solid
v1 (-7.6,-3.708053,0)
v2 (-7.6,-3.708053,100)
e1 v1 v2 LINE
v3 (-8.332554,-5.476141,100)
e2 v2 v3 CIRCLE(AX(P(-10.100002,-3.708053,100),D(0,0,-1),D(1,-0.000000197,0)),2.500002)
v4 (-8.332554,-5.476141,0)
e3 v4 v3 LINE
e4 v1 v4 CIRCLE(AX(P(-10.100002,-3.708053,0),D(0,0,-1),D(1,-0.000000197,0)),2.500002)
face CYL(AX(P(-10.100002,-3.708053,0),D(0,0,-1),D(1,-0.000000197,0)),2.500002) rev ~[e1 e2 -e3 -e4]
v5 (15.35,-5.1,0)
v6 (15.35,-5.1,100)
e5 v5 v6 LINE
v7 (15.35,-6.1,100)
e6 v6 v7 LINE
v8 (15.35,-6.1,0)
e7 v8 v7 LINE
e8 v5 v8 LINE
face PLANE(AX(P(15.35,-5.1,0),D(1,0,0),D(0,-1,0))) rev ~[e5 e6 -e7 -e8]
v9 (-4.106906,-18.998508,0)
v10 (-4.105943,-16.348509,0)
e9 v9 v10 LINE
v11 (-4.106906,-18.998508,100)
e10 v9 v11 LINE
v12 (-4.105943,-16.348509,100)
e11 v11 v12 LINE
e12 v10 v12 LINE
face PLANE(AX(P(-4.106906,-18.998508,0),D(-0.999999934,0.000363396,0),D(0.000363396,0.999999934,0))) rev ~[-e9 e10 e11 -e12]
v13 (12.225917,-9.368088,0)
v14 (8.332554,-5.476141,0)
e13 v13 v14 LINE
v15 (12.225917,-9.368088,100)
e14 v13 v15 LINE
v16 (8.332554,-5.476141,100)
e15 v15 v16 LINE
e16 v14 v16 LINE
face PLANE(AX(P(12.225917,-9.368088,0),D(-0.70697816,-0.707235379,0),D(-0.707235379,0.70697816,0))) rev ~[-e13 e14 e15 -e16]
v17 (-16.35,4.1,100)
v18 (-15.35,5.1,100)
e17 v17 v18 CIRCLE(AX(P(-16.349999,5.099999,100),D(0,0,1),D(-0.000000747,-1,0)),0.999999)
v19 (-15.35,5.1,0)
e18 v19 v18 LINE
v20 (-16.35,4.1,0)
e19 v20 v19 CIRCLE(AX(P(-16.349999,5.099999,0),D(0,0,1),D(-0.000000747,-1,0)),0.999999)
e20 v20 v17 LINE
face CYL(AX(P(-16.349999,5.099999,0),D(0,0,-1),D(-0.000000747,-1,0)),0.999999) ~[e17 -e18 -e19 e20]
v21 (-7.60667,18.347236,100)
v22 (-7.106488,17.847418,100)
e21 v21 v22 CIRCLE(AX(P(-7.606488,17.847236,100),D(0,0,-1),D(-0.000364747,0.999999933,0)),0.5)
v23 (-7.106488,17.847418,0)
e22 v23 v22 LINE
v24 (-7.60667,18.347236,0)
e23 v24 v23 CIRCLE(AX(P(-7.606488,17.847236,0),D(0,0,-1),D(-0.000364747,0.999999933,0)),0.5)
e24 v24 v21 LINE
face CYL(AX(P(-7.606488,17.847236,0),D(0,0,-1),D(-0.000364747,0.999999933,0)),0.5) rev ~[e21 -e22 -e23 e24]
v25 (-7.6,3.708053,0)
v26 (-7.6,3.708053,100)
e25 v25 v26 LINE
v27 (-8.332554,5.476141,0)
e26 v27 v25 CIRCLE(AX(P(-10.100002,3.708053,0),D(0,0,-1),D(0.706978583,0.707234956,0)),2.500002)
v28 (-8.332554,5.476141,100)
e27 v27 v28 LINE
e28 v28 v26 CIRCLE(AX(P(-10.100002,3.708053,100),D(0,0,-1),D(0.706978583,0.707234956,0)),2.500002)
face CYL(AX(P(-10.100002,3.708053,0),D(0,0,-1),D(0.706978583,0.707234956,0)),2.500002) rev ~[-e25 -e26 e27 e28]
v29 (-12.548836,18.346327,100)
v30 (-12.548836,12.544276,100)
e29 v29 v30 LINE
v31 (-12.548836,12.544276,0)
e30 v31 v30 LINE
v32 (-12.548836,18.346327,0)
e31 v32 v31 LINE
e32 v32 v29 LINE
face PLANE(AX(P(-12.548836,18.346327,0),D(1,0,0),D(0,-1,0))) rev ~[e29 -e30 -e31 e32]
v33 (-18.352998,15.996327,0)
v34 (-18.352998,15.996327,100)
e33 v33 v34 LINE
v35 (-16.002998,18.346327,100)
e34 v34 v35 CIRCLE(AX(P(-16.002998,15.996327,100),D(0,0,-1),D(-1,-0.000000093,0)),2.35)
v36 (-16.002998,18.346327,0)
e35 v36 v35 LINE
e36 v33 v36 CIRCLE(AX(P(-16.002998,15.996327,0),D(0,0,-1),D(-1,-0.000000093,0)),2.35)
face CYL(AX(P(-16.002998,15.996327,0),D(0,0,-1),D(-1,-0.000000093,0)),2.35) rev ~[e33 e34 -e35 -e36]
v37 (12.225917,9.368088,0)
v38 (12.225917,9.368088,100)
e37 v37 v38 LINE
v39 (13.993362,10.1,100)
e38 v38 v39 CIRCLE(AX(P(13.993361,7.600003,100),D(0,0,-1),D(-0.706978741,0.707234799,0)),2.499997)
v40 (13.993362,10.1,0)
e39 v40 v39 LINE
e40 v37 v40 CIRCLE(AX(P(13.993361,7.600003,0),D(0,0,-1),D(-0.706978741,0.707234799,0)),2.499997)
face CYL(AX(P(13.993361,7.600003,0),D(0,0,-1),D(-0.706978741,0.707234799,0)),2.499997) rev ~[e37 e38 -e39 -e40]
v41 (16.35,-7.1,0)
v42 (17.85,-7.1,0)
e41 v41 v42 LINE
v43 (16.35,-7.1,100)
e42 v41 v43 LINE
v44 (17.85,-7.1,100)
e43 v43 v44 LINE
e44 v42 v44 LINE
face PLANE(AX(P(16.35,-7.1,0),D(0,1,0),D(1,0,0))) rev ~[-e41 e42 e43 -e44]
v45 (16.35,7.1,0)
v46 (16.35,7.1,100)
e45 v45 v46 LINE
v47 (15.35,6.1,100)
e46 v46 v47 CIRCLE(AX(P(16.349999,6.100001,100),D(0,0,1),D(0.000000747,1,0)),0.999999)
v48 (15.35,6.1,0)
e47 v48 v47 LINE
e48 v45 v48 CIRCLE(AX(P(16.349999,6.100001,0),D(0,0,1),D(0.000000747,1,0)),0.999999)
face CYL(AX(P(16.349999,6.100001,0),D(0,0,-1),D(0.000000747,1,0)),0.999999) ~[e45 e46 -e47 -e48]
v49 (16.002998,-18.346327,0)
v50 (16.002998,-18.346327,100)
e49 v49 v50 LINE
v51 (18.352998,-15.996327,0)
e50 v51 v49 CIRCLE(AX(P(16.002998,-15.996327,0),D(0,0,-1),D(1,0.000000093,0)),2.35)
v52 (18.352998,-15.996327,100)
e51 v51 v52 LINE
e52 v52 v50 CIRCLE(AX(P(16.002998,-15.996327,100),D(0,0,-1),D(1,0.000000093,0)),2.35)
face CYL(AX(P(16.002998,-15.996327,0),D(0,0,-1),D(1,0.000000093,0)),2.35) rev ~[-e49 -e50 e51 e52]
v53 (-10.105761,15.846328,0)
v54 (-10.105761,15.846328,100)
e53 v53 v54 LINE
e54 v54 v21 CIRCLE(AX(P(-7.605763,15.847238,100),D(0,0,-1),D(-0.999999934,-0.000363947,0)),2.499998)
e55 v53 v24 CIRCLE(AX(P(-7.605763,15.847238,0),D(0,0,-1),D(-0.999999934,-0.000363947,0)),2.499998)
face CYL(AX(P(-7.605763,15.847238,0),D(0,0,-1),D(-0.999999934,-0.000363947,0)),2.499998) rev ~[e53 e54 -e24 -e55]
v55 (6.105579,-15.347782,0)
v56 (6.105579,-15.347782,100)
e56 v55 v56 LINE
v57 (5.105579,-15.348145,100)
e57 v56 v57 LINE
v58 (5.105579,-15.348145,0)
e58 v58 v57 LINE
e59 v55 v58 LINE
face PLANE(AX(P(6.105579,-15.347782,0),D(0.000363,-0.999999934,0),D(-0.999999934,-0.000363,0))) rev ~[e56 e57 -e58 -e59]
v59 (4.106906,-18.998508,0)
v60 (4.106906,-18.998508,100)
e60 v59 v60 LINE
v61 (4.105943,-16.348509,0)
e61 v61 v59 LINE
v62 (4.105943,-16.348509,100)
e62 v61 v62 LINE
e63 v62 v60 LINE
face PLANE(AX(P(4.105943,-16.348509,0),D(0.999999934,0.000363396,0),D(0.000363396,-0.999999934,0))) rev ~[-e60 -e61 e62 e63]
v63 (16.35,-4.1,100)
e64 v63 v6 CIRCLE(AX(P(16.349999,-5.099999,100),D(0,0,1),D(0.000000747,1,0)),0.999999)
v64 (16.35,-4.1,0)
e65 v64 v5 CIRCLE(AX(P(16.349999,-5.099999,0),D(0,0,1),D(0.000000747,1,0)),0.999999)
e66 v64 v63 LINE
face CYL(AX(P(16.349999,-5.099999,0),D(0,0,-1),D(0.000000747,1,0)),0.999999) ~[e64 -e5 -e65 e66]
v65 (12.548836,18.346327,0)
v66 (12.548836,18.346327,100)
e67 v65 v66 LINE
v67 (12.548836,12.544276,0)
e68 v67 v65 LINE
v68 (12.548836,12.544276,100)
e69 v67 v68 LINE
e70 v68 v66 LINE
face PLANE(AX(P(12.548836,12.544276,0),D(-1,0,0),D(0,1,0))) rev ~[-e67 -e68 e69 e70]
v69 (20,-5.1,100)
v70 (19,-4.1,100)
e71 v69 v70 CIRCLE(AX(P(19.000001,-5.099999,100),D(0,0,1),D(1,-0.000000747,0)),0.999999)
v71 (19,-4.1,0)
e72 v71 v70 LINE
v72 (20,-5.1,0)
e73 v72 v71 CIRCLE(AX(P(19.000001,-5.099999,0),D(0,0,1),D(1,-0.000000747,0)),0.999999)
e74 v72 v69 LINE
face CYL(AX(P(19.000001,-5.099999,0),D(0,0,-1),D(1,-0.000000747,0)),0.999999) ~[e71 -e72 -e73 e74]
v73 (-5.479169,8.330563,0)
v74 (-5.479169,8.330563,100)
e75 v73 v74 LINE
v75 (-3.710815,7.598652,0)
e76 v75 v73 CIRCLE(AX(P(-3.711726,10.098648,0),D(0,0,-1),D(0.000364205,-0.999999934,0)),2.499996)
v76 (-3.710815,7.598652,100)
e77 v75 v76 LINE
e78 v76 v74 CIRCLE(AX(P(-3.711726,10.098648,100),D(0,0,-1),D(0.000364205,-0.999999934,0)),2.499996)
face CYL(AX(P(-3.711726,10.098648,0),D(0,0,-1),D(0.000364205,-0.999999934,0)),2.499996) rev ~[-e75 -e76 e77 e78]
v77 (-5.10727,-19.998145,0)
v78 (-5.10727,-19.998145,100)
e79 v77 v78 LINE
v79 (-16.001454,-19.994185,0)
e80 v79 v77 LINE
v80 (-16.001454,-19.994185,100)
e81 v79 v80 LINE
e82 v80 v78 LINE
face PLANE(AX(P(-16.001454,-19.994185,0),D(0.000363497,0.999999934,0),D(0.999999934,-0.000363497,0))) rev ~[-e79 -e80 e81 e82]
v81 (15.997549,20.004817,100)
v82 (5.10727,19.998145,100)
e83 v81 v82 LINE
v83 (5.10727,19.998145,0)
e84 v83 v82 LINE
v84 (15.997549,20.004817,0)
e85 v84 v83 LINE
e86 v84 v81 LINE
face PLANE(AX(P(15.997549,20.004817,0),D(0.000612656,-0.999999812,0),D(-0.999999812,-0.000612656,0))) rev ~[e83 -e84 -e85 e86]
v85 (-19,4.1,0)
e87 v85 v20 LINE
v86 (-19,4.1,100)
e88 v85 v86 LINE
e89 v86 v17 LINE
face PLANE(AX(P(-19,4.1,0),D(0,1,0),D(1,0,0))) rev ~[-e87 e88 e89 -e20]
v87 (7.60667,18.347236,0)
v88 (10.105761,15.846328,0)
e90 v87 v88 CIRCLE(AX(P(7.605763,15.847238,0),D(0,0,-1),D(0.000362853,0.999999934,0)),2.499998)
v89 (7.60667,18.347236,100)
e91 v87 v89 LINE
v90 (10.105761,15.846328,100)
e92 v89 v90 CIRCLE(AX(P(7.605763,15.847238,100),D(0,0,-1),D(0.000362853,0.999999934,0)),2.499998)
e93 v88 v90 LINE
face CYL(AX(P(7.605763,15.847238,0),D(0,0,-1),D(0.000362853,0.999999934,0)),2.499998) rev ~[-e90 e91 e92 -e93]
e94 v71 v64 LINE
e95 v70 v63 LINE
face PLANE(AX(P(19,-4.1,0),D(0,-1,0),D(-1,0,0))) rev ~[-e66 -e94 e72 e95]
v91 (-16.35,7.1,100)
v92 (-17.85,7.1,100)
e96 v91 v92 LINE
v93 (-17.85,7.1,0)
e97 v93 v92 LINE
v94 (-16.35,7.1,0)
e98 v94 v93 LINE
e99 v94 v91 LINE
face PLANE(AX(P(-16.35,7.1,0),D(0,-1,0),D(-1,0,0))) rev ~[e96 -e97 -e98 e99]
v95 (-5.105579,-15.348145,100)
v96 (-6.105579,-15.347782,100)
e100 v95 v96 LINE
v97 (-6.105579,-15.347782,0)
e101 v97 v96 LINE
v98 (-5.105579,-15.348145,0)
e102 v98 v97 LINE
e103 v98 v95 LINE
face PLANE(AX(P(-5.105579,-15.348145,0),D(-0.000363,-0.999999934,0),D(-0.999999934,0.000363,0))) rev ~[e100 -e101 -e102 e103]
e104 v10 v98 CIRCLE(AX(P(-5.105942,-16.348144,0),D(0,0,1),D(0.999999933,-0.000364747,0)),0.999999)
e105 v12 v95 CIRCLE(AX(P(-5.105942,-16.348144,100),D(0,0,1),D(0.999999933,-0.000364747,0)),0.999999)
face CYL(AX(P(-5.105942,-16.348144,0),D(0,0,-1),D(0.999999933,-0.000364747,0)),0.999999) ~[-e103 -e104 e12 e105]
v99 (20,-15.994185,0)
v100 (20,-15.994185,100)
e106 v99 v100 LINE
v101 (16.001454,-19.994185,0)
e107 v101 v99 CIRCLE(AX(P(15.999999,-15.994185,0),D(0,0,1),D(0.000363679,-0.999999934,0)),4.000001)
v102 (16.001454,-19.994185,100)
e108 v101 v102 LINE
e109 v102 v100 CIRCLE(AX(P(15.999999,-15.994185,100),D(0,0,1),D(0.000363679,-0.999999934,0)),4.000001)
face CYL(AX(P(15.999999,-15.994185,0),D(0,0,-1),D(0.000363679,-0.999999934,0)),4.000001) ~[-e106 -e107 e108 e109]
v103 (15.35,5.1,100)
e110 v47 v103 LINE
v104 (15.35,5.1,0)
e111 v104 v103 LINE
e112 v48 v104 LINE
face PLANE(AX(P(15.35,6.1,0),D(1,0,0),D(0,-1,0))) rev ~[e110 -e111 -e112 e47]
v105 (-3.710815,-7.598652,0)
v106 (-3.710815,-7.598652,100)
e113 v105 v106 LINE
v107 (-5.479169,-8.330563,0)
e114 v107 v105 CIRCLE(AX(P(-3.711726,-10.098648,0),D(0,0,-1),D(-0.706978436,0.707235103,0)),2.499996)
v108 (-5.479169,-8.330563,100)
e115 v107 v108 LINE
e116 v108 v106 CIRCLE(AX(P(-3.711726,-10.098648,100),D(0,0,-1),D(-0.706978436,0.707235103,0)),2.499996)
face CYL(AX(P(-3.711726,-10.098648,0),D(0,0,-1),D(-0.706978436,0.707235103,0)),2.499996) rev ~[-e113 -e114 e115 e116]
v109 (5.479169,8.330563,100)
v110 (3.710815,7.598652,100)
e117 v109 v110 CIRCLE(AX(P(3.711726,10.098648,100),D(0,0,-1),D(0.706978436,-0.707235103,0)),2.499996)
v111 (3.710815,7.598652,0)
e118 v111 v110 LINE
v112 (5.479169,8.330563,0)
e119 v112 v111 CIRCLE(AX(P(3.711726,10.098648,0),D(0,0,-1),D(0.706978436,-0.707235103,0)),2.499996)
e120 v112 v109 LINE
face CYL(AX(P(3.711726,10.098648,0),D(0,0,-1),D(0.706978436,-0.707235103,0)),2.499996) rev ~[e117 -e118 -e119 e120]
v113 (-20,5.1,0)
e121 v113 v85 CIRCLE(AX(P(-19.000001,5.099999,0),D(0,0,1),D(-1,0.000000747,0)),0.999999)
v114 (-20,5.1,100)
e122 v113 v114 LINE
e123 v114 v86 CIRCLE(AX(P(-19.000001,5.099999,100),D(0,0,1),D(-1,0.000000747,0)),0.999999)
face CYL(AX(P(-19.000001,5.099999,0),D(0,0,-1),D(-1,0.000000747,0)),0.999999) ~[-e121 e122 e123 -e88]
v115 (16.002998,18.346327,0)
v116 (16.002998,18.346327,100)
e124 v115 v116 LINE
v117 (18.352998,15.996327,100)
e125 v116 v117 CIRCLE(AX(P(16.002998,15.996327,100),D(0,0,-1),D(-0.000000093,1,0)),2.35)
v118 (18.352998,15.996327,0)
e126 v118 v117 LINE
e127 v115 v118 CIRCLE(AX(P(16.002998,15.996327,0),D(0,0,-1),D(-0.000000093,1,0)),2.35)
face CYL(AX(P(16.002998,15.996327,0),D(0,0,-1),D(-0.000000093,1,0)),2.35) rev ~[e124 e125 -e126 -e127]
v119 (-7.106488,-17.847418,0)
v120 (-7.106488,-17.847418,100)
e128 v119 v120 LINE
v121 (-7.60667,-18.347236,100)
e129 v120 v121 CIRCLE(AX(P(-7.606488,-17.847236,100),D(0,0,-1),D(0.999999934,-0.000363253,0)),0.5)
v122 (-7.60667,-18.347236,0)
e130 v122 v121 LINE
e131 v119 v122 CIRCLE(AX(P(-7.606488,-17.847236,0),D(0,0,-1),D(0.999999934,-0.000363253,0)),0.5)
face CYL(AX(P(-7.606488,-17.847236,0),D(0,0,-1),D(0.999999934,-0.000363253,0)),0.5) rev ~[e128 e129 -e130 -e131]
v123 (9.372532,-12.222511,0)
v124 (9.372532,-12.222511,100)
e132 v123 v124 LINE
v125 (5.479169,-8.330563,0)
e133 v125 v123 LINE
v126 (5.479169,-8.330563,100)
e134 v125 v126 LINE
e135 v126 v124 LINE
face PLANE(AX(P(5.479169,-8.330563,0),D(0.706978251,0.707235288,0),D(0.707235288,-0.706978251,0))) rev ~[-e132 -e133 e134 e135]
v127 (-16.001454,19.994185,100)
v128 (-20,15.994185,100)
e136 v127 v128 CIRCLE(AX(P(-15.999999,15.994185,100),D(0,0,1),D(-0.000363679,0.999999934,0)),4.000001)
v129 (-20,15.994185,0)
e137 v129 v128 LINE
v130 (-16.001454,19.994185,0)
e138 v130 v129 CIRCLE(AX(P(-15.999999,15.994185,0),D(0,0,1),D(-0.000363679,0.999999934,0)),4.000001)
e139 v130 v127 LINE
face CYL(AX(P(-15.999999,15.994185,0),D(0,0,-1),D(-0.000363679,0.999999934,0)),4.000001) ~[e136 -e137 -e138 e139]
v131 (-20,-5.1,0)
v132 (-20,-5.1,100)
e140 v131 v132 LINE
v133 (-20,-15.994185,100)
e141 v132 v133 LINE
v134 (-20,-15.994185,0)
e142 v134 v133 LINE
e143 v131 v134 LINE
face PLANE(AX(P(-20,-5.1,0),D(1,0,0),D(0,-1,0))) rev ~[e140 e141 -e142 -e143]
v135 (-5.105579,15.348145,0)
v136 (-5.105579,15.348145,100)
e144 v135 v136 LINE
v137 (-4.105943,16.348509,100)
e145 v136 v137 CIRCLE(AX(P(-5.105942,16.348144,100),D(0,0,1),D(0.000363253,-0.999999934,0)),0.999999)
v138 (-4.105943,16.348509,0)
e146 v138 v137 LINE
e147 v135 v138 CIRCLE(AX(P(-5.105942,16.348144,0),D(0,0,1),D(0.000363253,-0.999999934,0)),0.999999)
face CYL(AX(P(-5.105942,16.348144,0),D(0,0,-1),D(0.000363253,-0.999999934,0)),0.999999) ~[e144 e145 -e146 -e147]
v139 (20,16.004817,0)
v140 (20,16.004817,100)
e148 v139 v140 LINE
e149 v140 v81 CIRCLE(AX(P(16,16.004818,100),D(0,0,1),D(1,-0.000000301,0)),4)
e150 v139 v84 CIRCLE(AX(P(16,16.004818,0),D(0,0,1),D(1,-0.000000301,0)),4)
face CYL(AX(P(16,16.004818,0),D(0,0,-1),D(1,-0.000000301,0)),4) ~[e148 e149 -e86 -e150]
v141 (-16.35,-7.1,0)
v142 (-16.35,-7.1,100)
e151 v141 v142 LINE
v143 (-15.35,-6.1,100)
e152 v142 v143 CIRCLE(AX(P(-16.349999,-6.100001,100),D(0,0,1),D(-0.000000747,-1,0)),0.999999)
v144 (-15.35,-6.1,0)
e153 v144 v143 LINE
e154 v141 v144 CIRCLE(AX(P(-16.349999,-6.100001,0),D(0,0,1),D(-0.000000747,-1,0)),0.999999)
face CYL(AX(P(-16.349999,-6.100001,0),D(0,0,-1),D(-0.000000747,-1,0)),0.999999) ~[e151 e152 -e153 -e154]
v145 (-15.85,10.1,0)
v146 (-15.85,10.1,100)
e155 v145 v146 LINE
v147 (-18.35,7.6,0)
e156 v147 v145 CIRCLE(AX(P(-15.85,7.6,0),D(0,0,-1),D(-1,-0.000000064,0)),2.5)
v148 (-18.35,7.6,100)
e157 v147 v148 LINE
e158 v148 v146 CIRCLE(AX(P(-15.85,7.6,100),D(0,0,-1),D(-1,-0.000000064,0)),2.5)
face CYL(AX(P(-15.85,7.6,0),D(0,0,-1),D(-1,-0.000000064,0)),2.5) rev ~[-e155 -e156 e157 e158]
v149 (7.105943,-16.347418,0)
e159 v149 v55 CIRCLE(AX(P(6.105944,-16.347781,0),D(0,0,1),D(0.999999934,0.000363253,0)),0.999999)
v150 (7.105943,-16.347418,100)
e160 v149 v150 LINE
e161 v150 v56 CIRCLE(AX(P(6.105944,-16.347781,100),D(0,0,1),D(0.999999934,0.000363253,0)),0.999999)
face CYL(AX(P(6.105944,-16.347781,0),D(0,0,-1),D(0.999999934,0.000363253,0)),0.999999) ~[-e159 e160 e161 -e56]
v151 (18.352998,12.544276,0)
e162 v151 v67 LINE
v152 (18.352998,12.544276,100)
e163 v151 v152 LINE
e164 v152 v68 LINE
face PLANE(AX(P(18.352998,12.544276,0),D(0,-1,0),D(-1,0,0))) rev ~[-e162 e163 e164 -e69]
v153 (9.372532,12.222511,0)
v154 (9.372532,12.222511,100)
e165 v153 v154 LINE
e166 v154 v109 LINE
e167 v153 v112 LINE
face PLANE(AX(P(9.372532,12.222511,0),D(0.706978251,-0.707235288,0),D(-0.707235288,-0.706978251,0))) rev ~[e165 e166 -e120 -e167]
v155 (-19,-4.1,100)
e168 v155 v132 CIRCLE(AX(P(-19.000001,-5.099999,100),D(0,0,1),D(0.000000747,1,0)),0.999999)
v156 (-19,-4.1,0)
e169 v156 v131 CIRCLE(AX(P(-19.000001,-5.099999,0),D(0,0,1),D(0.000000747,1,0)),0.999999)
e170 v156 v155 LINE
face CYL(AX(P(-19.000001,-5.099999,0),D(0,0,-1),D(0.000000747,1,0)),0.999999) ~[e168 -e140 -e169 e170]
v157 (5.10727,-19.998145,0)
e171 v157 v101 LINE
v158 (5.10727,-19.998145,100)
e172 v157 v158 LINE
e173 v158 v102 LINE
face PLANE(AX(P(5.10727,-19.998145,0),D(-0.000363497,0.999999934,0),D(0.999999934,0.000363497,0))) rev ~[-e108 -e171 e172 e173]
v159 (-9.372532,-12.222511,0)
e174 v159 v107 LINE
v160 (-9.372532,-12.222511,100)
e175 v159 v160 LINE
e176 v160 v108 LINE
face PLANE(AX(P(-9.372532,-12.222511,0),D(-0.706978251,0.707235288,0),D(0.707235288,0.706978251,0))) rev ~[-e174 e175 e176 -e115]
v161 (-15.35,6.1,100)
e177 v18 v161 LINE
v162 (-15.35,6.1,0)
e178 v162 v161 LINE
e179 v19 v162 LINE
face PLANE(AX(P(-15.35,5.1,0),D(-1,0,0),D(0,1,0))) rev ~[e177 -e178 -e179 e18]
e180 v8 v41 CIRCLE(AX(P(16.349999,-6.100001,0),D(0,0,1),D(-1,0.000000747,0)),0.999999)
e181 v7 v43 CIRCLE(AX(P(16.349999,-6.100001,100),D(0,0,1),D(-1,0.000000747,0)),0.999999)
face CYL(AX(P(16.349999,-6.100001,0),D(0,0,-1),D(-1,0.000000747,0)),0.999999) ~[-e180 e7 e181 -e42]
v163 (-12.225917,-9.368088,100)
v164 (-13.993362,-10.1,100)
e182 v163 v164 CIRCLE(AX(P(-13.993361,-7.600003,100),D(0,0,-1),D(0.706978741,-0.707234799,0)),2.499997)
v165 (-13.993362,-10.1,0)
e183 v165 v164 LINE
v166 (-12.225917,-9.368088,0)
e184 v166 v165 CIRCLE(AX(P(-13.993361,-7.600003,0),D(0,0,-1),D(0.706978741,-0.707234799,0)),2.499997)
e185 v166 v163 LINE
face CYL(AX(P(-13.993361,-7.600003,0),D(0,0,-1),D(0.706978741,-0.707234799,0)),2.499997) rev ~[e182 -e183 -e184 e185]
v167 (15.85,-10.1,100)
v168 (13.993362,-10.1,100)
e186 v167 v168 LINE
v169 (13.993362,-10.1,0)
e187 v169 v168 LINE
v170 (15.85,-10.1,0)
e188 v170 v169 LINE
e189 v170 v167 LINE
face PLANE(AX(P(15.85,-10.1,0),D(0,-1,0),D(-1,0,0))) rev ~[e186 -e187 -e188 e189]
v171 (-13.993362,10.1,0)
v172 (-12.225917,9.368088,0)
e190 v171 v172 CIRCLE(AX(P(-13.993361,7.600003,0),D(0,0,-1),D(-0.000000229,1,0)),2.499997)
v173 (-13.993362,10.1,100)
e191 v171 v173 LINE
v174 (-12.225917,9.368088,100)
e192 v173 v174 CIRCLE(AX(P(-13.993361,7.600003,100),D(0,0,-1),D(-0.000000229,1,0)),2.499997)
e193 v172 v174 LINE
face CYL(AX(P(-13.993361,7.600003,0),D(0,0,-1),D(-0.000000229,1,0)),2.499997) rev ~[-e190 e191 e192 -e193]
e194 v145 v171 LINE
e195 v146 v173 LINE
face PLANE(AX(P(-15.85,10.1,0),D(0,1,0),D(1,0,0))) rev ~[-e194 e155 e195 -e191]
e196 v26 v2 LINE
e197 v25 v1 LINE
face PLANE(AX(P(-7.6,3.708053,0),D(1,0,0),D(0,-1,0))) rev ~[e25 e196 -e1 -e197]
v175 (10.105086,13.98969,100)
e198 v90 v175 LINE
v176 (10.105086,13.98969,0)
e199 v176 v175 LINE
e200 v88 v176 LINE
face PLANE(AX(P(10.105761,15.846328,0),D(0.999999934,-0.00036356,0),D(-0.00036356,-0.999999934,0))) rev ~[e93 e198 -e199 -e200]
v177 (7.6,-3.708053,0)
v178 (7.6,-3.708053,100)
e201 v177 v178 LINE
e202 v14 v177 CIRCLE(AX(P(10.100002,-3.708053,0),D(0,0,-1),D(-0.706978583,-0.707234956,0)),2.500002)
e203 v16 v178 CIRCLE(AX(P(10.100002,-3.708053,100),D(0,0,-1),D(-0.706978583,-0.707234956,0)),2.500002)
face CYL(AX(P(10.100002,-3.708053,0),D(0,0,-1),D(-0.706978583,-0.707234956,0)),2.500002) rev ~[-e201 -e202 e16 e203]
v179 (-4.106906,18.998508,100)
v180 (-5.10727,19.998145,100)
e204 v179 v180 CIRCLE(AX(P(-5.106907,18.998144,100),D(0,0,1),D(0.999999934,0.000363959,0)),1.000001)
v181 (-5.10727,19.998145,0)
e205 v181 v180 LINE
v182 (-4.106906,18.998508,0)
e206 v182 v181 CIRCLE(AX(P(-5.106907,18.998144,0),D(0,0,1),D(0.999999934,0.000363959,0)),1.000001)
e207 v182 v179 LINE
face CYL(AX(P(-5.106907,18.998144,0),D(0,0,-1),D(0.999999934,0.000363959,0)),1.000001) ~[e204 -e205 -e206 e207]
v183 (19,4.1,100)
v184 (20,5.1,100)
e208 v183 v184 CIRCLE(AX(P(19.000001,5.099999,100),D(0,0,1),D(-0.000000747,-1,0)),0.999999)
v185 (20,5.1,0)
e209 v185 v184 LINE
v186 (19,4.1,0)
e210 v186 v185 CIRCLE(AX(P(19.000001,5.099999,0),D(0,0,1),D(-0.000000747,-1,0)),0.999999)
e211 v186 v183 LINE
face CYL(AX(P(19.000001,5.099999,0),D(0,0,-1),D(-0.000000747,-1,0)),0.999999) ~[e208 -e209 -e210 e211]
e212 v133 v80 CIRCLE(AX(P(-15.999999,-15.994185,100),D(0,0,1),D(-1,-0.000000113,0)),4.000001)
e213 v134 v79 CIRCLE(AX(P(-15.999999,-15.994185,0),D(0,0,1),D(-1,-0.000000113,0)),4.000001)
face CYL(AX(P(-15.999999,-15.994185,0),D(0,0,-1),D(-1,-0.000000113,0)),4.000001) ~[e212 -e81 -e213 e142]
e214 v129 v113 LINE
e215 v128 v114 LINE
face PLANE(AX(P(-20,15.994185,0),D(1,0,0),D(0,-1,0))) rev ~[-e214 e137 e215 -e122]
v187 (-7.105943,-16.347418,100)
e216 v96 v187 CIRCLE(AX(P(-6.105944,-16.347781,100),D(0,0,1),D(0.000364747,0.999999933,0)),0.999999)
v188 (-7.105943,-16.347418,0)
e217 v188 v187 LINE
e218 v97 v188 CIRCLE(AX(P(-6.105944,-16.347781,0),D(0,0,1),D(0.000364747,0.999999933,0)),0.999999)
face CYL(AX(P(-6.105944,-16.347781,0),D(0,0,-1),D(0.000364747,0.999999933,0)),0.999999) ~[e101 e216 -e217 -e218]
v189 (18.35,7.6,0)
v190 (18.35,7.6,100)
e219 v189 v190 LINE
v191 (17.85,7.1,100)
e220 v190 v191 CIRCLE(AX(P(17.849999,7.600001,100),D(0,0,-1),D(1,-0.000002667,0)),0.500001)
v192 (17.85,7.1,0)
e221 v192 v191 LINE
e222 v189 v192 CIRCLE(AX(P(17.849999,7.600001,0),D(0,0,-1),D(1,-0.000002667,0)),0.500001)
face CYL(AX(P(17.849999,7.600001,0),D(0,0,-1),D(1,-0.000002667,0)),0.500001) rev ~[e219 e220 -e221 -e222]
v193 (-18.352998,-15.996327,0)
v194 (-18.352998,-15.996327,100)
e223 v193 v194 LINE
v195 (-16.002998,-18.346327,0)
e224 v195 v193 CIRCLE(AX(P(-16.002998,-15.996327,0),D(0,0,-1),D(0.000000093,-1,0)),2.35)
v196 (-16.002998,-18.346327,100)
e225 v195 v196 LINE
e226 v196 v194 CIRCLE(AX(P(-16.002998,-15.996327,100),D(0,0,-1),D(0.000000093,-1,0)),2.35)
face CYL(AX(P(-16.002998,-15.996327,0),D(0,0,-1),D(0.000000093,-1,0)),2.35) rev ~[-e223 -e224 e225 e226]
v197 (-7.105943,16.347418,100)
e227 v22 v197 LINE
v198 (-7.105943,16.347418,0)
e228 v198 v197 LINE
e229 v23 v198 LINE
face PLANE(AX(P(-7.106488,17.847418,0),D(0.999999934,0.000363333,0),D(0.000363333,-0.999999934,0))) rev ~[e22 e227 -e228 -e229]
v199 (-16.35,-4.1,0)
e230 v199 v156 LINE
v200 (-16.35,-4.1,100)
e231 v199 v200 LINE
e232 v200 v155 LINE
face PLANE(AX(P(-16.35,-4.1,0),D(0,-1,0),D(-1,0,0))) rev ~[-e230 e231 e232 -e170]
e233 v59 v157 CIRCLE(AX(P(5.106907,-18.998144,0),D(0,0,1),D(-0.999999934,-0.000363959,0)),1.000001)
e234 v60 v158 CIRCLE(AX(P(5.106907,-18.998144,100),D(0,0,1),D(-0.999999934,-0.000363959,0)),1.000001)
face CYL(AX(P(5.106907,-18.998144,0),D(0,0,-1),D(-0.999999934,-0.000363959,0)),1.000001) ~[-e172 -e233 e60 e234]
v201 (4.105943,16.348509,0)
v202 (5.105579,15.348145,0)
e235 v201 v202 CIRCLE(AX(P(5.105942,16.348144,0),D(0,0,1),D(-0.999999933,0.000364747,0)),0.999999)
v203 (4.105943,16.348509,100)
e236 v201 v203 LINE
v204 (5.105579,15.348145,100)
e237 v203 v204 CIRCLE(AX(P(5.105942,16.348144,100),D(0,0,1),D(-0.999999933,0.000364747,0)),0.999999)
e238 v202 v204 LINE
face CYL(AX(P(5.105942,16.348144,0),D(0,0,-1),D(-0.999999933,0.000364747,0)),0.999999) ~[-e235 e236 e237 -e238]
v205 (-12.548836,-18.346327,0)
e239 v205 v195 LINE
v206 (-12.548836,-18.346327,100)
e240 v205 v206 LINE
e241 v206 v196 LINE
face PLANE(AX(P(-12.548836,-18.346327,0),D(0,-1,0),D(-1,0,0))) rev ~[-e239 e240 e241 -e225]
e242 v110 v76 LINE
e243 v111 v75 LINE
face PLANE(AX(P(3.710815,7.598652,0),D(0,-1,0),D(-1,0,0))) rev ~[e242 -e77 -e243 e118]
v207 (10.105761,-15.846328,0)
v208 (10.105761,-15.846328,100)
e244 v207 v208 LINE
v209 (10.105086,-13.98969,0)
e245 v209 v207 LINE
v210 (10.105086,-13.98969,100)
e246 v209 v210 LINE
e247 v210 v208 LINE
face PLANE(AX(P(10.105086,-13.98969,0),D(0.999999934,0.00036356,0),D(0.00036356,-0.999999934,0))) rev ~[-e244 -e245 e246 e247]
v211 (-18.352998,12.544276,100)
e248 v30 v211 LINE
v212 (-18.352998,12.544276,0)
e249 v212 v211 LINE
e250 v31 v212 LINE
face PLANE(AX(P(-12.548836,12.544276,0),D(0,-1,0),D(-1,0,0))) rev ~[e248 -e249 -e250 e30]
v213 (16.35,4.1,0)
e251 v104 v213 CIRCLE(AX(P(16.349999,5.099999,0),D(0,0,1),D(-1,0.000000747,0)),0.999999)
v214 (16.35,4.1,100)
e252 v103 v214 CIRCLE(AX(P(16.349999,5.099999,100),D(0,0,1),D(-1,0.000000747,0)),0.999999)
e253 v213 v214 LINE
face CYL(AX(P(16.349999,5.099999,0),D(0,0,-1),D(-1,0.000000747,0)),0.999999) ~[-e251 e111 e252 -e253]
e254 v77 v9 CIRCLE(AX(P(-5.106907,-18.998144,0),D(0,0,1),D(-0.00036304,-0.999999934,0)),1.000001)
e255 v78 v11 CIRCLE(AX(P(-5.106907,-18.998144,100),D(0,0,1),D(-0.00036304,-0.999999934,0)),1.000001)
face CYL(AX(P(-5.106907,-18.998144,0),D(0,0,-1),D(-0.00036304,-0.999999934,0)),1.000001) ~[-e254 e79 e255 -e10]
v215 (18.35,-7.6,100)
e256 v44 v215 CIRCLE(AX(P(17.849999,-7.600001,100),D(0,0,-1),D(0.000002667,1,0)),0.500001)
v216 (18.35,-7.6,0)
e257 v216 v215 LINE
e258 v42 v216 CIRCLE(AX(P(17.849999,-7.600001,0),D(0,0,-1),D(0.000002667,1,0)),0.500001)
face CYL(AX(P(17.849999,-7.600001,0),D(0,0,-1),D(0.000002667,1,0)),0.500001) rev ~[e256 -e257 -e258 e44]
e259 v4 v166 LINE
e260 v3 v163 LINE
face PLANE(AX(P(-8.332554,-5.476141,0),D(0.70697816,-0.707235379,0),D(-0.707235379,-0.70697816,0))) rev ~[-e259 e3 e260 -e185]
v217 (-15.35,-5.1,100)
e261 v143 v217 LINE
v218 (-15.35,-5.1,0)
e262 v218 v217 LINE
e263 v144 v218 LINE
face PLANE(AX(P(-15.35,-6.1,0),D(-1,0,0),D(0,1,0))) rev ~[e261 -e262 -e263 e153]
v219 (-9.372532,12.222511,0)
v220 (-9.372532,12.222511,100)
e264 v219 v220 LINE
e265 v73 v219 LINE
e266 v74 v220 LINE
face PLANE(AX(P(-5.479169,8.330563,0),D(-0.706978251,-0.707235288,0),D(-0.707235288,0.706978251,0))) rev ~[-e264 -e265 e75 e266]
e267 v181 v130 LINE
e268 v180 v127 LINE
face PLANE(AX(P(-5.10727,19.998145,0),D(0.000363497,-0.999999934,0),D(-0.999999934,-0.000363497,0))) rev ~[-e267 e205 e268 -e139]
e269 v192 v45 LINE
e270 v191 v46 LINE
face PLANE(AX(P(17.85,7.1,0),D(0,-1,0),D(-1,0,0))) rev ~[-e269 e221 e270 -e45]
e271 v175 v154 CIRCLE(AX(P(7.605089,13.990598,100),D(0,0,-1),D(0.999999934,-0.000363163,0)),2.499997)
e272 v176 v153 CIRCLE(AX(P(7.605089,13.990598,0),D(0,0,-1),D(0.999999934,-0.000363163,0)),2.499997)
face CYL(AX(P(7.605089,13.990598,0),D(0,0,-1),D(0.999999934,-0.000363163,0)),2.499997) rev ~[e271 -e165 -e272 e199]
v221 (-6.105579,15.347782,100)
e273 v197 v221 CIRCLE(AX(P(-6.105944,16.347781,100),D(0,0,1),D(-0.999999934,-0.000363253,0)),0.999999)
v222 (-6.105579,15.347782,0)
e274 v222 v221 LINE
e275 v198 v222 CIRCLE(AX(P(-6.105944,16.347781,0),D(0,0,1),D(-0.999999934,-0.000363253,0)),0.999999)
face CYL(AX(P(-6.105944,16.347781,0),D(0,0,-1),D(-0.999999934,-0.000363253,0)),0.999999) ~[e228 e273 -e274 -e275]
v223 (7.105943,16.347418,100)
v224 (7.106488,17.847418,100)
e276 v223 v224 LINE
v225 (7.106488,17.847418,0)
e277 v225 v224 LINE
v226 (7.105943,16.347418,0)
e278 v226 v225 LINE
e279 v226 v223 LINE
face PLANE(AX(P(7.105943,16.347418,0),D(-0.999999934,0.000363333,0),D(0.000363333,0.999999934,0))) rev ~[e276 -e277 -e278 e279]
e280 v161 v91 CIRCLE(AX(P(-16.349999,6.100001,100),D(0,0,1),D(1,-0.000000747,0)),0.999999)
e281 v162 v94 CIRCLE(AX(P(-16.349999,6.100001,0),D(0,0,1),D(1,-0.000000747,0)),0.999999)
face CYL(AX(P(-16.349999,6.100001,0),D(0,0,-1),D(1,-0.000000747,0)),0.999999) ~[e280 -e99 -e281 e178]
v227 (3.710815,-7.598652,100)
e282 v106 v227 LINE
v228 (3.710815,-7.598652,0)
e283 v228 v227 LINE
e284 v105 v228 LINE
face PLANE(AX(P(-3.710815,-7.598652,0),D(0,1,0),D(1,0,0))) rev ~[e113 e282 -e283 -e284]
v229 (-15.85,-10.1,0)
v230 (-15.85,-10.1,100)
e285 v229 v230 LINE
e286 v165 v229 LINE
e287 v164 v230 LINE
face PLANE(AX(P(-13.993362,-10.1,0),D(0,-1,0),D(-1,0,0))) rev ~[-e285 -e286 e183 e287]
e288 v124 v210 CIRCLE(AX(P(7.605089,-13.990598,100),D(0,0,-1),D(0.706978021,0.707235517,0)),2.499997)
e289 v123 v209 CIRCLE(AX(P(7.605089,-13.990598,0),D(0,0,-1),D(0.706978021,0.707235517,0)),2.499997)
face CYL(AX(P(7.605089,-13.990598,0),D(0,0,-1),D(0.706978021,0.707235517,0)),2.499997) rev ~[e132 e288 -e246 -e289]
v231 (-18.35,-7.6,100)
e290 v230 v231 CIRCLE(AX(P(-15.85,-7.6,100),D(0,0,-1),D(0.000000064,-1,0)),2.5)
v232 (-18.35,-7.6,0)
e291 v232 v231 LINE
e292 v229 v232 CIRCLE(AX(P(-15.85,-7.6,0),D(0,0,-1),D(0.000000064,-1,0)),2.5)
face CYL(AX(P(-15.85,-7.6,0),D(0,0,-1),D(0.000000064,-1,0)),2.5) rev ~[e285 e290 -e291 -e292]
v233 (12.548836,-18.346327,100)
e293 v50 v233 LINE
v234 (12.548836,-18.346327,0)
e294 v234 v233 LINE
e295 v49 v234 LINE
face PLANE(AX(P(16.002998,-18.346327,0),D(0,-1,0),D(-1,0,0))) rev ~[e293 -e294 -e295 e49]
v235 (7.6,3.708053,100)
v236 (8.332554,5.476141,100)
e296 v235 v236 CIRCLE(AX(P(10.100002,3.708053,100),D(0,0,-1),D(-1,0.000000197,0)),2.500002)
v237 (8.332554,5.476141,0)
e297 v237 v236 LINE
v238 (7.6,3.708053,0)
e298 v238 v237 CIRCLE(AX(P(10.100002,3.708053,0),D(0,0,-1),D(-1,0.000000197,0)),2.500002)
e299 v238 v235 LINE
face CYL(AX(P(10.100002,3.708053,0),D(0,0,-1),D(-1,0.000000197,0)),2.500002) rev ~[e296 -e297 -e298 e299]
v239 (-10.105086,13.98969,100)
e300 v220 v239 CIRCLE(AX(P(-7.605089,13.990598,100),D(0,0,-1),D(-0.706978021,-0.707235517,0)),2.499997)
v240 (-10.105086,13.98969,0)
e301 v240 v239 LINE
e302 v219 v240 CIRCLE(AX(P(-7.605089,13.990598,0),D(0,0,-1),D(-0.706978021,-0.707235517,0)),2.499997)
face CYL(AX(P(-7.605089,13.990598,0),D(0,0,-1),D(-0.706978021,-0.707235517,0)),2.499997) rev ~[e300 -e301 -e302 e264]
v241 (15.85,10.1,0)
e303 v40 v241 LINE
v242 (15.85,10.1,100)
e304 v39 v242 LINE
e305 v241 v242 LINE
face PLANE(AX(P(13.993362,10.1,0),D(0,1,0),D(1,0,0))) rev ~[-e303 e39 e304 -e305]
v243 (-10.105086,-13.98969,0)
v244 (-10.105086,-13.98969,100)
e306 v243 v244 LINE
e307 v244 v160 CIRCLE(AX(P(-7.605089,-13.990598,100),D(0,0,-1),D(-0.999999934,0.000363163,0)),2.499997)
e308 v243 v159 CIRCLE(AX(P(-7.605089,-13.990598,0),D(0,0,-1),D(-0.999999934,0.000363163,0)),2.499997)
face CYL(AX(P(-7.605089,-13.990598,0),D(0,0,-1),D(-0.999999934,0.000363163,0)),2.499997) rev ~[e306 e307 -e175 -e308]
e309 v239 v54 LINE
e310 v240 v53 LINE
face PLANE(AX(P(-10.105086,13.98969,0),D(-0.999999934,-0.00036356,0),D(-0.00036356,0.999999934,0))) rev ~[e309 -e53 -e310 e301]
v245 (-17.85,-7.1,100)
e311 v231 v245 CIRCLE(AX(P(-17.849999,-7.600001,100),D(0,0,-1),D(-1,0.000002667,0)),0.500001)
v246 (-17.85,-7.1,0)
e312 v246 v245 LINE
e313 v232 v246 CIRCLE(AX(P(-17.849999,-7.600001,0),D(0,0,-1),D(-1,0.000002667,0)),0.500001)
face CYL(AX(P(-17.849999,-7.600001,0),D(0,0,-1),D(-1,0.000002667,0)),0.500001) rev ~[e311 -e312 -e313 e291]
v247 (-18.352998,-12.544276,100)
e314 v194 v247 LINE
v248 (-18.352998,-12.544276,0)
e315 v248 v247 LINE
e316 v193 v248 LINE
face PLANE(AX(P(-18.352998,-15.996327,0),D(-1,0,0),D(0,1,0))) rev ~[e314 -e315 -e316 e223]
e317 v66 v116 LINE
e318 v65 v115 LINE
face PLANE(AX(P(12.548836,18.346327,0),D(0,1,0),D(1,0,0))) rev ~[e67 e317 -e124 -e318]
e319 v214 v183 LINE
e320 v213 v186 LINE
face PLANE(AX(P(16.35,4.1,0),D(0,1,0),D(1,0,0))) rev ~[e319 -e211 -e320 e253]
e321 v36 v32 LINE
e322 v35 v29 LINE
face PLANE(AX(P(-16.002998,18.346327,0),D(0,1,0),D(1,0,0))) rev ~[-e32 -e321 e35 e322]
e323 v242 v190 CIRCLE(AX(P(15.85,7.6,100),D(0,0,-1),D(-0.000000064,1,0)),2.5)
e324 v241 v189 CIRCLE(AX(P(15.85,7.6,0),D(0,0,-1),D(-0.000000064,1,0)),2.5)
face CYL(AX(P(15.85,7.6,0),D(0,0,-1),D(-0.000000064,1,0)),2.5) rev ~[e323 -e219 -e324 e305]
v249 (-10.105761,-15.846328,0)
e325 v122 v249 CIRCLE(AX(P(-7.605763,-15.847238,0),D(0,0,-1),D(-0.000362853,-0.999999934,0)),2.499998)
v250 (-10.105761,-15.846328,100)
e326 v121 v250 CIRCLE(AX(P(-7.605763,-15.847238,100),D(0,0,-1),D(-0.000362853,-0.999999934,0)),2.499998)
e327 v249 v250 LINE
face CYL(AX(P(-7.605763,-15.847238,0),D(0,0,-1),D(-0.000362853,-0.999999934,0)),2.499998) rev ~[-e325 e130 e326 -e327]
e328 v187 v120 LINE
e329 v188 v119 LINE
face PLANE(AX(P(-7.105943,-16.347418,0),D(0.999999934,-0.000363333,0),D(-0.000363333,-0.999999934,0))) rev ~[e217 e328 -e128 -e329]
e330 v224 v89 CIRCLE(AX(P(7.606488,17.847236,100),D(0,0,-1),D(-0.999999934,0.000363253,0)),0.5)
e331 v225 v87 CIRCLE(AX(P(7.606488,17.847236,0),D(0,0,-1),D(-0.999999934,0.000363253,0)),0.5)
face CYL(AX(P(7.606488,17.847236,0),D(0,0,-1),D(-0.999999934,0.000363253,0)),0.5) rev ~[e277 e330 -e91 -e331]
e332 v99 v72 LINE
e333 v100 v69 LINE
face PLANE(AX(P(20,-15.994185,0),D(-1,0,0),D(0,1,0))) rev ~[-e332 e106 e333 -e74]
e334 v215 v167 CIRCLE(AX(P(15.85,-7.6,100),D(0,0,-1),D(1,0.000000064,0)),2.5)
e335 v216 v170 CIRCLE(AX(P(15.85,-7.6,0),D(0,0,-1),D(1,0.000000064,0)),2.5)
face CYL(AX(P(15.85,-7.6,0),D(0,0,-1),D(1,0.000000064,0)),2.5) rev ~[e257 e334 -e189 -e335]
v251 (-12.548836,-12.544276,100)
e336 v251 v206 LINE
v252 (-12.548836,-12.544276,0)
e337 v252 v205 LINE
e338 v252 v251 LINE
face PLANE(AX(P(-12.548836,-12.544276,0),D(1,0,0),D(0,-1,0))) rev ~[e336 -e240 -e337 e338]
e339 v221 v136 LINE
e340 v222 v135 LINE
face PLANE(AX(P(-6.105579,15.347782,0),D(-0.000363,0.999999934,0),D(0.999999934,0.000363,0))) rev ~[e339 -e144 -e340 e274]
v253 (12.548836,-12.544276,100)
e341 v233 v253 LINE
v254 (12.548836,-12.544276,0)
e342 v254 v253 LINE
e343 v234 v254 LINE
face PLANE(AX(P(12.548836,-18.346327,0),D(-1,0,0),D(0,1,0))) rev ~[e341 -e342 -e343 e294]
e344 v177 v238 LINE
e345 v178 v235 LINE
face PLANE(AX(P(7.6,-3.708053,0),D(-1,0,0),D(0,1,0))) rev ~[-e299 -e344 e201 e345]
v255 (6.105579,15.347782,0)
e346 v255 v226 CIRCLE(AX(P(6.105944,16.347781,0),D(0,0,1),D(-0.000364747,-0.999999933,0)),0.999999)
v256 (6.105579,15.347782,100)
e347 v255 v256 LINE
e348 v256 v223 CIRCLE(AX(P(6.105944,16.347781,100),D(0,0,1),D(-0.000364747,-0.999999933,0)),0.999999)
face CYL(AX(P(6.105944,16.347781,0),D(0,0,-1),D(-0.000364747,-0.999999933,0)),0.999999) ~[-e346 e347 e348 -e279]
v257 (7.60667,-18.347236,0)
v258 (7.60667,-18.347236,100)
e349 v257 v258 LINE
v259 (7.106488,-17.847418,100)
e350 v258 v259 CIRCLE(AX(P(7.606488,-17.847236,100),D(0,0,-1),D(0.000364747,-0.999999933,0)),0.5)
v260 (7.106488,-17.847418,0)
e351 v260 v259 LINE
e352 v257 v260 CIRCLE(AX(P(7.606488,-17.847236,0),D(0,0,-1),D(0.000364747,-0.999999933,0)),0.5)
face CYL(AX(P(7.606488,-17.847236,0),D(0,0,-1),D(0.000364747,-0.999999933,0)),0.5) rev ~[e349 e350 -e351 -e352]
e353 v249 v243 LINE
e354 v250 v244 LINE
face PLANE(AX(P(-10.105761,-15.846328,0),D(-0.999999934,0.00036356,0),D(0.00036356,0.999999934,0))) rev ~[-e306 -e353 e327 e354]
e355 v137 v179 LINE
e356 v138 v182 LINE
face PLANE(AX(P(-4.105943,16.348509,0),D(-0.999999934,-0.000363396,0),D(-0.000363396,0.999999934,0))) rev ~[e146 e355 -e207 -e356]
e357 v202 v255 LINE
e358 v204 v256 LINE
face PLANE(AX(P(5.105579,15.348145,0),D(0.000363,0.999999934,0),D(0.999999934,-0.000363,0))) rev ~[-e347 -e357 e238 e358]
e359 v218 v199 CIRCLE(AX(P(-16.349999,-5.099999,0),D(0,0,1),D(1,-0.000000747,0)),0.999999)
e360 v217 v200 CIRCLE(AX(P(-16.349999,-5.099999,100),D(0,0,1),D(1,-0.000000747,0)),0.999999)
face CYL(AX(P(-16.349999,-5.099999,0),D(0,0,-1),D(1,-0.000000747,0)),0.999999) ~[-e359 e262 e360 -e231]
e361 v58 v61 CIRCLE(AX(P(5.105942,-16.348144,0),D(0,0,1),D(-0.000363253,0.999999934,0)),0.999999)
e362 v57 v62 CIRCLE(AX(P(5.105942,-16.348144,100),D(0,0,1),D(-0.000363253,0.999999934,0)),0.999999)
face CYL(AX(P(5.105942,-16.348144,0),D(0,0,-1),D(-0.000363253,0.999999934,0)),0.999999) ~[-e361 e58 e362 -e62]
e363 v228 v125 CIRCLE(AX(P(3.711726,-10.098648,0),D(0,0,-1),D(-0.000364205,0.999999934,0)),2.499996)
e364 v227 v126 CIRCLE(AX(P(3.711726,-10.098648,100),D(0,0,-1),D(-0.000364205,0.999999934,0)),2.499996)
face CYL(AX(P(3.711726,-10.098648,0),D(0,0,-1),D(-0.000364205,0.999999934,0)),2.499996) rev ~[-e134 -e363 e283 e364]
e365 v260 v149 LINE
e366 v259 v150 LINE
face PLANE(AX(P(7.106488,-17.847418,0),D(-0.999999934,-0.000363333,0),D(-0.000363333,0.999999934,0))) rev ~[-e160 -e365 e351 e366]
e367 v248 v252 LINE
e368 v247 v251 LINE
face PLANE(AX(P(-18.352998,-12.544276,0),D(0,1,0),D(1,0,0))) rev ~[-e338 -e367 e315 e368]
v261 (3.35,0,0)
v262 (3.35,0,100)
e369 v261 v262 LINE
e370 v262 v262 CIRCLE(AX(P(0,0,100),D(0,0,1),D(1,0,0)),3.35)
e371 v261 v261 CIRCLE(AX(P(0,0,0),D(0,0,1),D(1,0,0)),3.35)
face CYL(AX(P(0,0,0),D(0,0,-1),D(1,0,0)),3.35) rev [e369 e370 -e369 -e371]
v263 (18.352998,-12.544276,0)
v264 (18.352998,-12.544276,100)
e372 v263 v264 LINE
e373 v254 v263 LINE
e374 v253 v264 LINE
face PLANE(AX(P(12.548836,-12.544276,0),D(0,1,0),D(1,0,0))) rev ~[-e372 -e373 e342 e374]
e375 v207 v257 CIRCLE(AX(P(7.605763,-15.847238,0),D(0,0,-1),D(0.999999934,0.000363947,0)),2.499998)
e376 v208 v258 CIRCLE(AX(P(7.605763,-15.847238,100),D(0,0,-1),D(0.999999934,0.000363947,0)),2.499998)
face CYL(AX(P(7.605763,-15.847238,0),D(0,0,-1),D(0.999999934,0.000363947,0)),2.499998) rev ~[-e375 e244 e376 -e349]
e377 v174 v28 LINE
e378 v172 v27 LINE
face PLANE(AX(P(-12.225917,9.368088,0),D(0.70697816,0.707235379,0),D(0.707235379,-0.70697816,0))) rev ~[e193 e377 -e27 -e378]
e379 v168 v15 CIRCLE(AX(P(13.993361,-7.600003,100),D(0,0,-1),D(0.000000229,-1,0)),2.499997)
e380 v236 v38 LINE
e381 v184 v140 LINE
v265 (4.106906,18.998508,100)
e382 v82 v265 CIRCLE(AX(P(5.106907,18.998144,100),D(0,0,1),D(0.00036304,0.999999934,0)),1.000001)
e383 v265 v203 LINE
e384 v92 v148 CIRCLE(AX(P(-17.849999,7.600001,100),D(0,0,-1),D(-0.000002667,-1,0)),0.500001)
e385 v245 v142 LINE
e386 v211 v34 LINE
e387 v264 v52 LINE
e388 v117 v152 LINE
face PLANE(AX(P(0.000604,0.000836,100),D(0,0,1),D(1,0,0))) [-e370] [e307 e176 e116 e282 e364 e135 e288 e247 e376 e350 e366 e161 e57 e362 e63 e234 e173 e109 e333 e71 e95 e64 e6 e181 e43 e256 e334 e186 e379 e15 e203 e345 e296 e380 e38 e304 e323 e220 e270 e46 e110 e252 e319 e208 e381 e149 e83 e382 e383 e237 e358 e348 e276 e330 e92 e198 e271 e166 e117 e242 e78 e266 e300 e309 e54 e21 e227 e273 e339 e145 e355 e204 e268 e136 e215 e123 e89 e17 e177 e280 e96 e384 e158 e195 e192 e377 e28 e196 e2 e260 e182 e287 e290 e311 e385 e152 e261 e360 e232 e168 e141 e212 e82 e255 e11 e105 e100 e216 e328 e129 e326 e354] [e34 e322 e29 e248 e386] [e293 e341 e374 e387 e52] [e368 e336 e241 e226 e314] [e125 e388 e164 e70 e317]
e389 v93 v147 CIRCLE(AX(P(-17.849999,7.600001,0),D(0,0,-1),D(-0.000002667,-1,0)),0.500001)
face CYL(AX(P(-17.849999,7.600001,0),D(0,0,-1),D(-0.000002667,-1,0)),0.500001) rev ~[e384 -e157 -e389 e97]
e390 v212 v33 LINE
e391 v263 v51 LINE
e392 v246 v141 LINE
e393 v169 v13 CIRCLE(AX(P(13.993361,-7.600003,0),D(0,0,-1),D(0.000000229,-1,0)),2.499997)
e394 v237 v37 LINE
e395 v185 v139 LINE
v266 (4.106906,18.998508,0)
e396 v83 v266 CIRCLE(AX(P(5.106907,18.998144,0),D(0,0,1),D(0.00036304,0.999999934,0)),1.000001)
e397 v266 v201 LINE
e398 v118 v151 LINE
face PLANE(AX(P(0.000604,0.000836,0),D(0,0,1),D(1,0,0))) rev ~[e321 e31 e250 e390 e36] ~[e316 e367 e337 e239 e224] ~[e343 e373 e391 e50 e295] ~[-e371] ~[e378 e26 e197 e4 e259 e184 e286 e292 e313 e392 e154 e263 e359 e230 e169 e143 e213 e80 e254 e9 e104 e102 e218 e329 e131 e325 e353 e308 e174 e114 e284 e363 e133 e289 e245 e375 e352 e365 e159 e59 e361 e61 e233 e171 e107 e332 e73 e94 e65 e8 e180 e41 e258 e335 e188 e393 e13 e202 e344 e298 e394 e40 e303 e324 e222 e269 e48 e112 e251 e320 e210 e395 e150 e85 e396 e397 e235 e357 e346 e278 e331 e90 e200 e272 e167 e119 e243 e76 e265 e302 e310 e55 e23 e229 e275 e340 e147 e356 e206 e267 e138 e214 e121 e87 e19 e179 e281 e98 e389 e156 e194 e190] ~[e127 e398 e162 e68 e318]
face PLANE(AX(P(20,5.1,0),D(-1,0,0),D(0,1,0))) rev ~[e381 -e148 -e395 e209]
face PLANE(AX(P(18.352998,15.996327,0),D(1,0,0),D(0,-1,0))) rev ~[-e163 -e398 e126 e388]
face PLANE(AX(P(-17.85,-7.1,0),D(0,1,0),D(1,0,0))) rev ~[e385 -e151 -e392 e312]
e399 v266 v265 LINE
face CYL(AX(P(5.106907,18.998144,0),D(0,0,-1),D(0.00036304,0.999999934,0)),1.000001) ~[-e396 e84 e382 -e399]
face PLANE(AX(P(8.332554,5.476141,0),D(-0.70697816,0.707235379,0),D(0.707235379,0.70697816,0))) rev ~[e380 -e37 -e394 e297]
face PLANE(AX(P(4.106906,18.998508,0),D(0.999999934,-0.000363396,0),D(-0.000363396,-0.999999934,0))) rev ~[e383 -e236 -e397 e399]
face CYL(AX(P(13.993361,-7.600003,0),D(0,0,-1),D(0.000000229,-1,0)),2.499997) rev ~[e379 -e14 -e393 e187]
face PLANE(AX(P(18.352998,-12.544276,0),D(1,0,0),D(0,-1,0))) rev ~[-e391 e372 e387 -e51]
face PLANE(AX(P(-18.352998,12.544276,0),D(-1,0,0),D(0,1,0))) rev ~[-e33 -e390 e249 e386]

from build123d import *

# Parameters (mm, degrees)
F0_R     = 3.35
F1_DEPTH = 100


with BuildPart() as f1:
    # F0 (on Top) → F1 (new body)
    with BuildSketch(Plane.XY):
        with BuildLine():
            Line((20, -15.994185), (20, -5.1))
            ThreePointArc((20, -5.1), (19.707107, -4.392893), (19, -4.1))
            Line((19, -4.1), (16.35, -4.1))
            ThreePointArc((16.35, -4.1), (15.642893, -4.392893), (15.35, -5.1))
            Line((15.35, -5.1), (15.35, -6.1))
            ThreePointArc((15.35, -6.1), (15.642893, -6.807107), (16.35, -7.1))
            Line((16.35, -7.1), (17.85, -7.1))
            ThreePointArc((17.85, -7.1), (18.203553, -7.246447), (18.35, -7.6))
            ThreePointArc((18.35, -7.6), (17.617767, -9.367767), (15.85, -10.1))
            Line((15.85, -10.1), (13.993362, -10.1))
            ThreePointArc((13.993362, -10.1), (13.036864, -9.909786), (12.225917, -9.368088))
            Line((12.225917, -9.368088), (8.332554, -5.476141))
            ThreePointArc((8.332554, -5.476141), (7.790388, -4.664971), (7.6, -3.708053))
            Line((7.6, -3.708053), (7.6, 3.708053))
            ThreePointArc((7.6, 3.708053), (7.790388, 4.664971), (8.332554, 5.476141))
            Line((8.332554, 5.476141), (12.225917, 9.368088))
            ThreePointArc((12.225917, 9.368088), (13.036864, 9.909786), (13.993362, 10.1))
            Line((13.993362, 10.1), (15.85, 10.1))
            ThreePointArc((15.85, 10.1), (17.617767, 9.367767), (18.35, 7.6))
            ThreePointArc((18.35, 7.6), (18.203553, 7.246447), (17.85, 7.1))
            Line((17.85, 7.1), (16.35, 7.1))
            ThreePointArc((16.35, 7.1), (15.642893, 6.807107), (15.35, 6.1))
            Line((15.35, 6.1), (15.35, 5.1))
            ThreePointArc((15.35, 5.1), (15.642893, 4.392893), (16.35, 4.1))
            Line((16.35, 4.1), (19, 4.1))
            ThreePointArc((19, 4.1), (19.707107, 4.392893), (20, 5.1))
            Line((20, 5.1), (20, 16.004817))
            ThreePointArc((20, 16.004817), (18.827561, 18.834111), (15.997549, 20.004817))
            Line((15.997549, 20.004817), (5.10727, 19.998145))
            ThreePointArc((5.10727, 19.998145), (4.400057, 19.705509), (4.106906, 18.998508))
            Line((4.106906, 18.998508), (4.105943, 16.348509))
            ThreePointArc((4.105943, 16.348509), (4.398579, 15.641295), (5.105579, 15.348145))
            Line((5.105579, 15.348145), (6.105579, 15.347782))
            ThreePointArc((6.105579, 15.347782), (6.812793, 15.640418), (7.105943, 16.347418))
            Line((7.105943, 16.347418), (7.106488, 17.847418))
            ThreePointArc((7.106488, 17.847418), (7.253063, 18.200918), (7.60667, 18.347236))
            ThreePointArc((7.60667, 18.347236), (9.374171, 17.614361), (10.105761, 15.846328))
            Line((10.105761, 15.846328), (10.105086, 13.98969))
            ThreePointArc((10.105086, 13.98969), (9.914524, 13.03326), (9.372532, 12.222511))
            Line((9.372532, 12.222511), (5.479169, 8.330563))
            ThreePointArc((5.479169, 8.330563), (4.667803, 7.788692), (3.710815, 7.598652))
            Line((3.710815, 7.598652), (-3.710815, 7.598652))
            ThreePointArc((-3.710815, 7.598652), (-4.667803, 7.788692), (-5.479169, 8.330563))
            Line((-5.479169, 8.330563), (-9.372532, 12.222511))
            ThreePointArc((-9.372532, 12.222511), (-9.914524, 13.03326), (-10.105086, 13.98969))
            Line((-10.105086, 13.98969), (-10.105761, 15.846328))
            ThreePointArc((-10.105761, 15.846328), (-9.374171, 17.614361), (-7.60667, 18.347236))
            ThreePointArc((-7.60667, 18.347236), (-7.253063, 18.200918), (-7.106488, 17.847418))
            Line((-7.106488, 17.847418), (-7.105943, 16.347418))
            ThreePointArc((-7.105943, 16.347418), (-6.812793, 15.640418), (-6.105579, 15.347782))
            Line((-6.105579, 15.347782), (-5.105579, 15.348145))
            ThreePointArc((-5.105579, 15.348145), (-4.398579, 15.641295), (-4.105943, 16.348509))
            Line((-4.105943, 16.348509), (-4.106906, 18.998508))
            ThreePointArc((-4.106906, 18.998508), (-4.400057, 19.705509), (-5.10727, 19.998145))
            Line((-5.10727, 19.998145), (-16.001454, 19.994185))
            ThreePointArc((-16.001454, 19.994185), (-18.828941, 18.822098), (-20, 15.994185))
            Line((-20, 15.994185), (-20, 5.1))
            ThreePointArc((-20, 5.1), (-19.707107, 4.392893), (-19, 4.1))
            Line((-19, 4.1), (-16.35, 4.1))
            ThreePointArc((-16.35, 4.1), (-15.642893, 4.392893), (-15.35, 5.1))
            Line((-15.35, 5.1), (-15.35, 6.1))
            ThreePointArc((-15.35, 6.1), (-15.642893, 6.807107), (-16.35, 7.1))
            Line((-16.35, 7.1), (-17.85, 7.1))
            ThreePointArc((-17.85, 7.1), (-18.203553, 7.246447), (-18.35, 7.6))
            ThreePointArc((-18.35, 7.6), (-17.617767, 9.367767), (-15.85, 10.1))
            Line((-15.85, 10.1), (-13.993362, 10.1))
            ThreePointArc((-13.993362, 10.1), (-13.036864, 9.909786), (-12.225917, 9.368088))
            Line((-12.225917, 9.368088), (-8.332554, 5.476141))
            ThreePointArc((-8.332554, 5.476141), (-7.790388, 4.664971), (-7.6, 3.708053))
            Line((-7.6, 3.708053), (-7.6, -3.708053))
            ThreePointArc((-7.6, -3.708053), (-7.790388, -4.664971), (-8.332554, -5.476141))
            Line((-8.332554, -5.476141), (-12.225917, -9.368088))
            ThreePointArc((-12.225917, -9.368088), (-13.036864, -9.909786), (-13.993362, -10.1))
            Line((-13.993362, -10.1), (-15.85, -10.1))
            ThreePointArc((-15.85, -10.1), (-17.617767, -9.367767), (-18.35, -7.6))
            ThreePointArc((-18.35, -7.6), (-18.203553, -7.246447), (-17.85, -7.1))
            Line((-17.85, -7.1), (-16.35, -7.1))
            ThreePointArc((-16.35, -7.1), (-15.642893, -6.807107), (-15.35, -6.1))
            Line((-15.35, -6.1), (-15.35, -5.1))
            ThreePointArc((-15.35, -5.1), (-15.642893, -4.392893), (-16.35, -4.1))
            Line((-16.35, -4.1), (-19, -4.1))
            ThreePointArc((-19, -4.1), (-19.707107, -4.392893), (-20, -5.1))
            Line((-20, -5.1), (-20, -15.994185))
            ThreePointArc((-20, -15.994185), (-18.828941, -18.822098), (-16.001454, -19.994185))
            Line((-16.001454, -19.994185), (-5.10727, -19.998145))
            ThreePointArc((-5.10727, -19.998145), (-4.400057, -19.705509), (-4.106906, -18.998508))
            Line((-4.106906, -18.998508), (-4.105943, -16.348509))
            ThreePointArc((-4.105943, -16.348509), (-4.398579, -15.641295), (-5.105579, -15.348145))
            Line((-5.105579, -15.348145), (-6.105579, -15.347782))
            ThreePointArc((-6.105579, -15.347782), (-6.812793, -15.640418), (-7.105943, -16.347418))
            Line((-7.105943, -16.347418), (-7.106488, -17.847418))
            ThreePointArc((-7.106488, -17.847418), (-7.253063, -18.200918), (-7.60667, -18.347236))
            ThreePointArc((-7.60667, -18.347236), (-9.374171, -17.614361), (-10.105761, -15.846328))
            Line((-10.105761, -15.846328), (-10.105086, -13.98969))
            ThreePointArc((-10.105086, -13.98969), (-9.914524, -13.03326), (-9.372532, -12.222511))
            Line((-9.372532, -12.222511), (-5.479169, -8.330563))
            ThreePointArc((-5.479169, -8.330563), (-4.667803, -7.788692), (-3.710815, -7.598652))
            Line((-3.710815, -7.598652), (3.710815, -7.598652))
            ThreePointArc((3.710815, -7.598652), (4.667803, -7.788692), (5.479169, -8.330563))
            Line((5.479169, -8.330563), (9.372532, -12.222511))
            ThreePointArc((9.372532, -12.222511), (9.914524, -13.03326), (10.105086, -13.98969))
            Line((10.105086, -13.98969), (10.105761, -15.846328))
            ThreePointArc((10.105761, -15.846328), (9.374171, -17.614361), (7.60667, -18.347236))
            ThreePointArc((7.60667, -18.347236), (7.253063, -18.200918), (7.106488, -17.847418))
            Line((7.106488, -17.847418), (7.105943, -16.347418))
            ThreePointArc((7.105943, -16.347418), (6.812793, -15.640418), (6.105579, -15.347782))
            Line((6.105579, -15.347782), (5.105579, -15.348145))
            ThreePointArc((5.105579, -15.348145), (4.398579, -15.641295), (4.105943, -16.348509))
            Line((4.105943, -16.348509), (4.106906, -18.998508))
            ThreePointArc((4.106906, -18.998508), (4.400057, -19.705509), (5.10727, -19.998145))
            Line((5.10727, -19.998145), (16.001454, -19.994185))
            ThreePointArc((16.001454, -19.994185), (18.828941, -18.822098), (20, -15.994185))
        make_face()
        with BuildLine():
            ThreePointArc((-16.002998, -18.346327), (-17.664699, -17.658028), (-18.352998, -15.996327))
            Line((-18.352998, -15.996327), (-18.352998, -12.544276))
            Line((-18.352998, -12.544276), (-12.548836, -12.544276))
            Line((-12.548836, -12.544276), (-12.548836, -18.346327))
            Line((-12.548836, -18.346327), (-16.002998, -18.346327))
        make_face(mode=Mode.SUBTRACT)
        with BuildLine():
            ThreePointArc((18.352998, -15.996327), (17.664699, -17.658028), (16.002998, -18.346327))
            Line((16.002998, -18.346327), (12.548836, -18.346327))
            Line((12.548836, -18.346327), (12.548836, -12.544276))
            Line((12.548836, -12.544276), (18.352998, -12.544276))
            Line((18.352998, -12.544276), (18.352998, -15.996327))
        make_face(mode=Mode.SUBTRACT)
        Circle(F0_R, mode=Mode.SUBTRACT)
        with BuildLine():
            Line((-16.002998, 18.346327), (-12.548836, 18.346327))
            Line((-12.548836, 18.346327), (-12.548836, 12.544276))
            Line((-12.548836, 12.544276), (-18.352998, 12.544276))
            Line((-18.352998, 12.544276), (-18.352998, 15.996327))
            ThreePointArc((-18.352998, 15.996327), (-17.664699, 17.658028), (-16.002998, 18.346327))
        make_face(mode=Mode.SUBTRACT)
        with BuildLine():
            Line((12.548836, 18.346327), (16.002998, 18.346327))
            ThreePointArc((16.002998, 18.346327), (17.664699, 17.658028), (18.352998, 15.996327))
            Line((18.352998, 15.996327), (18.352998, 12.544276))
            Line((18.352998, 12.544276), (12.548836, 12.544276))
            Line((12.548836, 12.544276), (12.548836, 18.346327))
        make_face(mode=Mode.SUBTRACT)
    extrude(amount=F1_DEPTH)


solid = f1.part
